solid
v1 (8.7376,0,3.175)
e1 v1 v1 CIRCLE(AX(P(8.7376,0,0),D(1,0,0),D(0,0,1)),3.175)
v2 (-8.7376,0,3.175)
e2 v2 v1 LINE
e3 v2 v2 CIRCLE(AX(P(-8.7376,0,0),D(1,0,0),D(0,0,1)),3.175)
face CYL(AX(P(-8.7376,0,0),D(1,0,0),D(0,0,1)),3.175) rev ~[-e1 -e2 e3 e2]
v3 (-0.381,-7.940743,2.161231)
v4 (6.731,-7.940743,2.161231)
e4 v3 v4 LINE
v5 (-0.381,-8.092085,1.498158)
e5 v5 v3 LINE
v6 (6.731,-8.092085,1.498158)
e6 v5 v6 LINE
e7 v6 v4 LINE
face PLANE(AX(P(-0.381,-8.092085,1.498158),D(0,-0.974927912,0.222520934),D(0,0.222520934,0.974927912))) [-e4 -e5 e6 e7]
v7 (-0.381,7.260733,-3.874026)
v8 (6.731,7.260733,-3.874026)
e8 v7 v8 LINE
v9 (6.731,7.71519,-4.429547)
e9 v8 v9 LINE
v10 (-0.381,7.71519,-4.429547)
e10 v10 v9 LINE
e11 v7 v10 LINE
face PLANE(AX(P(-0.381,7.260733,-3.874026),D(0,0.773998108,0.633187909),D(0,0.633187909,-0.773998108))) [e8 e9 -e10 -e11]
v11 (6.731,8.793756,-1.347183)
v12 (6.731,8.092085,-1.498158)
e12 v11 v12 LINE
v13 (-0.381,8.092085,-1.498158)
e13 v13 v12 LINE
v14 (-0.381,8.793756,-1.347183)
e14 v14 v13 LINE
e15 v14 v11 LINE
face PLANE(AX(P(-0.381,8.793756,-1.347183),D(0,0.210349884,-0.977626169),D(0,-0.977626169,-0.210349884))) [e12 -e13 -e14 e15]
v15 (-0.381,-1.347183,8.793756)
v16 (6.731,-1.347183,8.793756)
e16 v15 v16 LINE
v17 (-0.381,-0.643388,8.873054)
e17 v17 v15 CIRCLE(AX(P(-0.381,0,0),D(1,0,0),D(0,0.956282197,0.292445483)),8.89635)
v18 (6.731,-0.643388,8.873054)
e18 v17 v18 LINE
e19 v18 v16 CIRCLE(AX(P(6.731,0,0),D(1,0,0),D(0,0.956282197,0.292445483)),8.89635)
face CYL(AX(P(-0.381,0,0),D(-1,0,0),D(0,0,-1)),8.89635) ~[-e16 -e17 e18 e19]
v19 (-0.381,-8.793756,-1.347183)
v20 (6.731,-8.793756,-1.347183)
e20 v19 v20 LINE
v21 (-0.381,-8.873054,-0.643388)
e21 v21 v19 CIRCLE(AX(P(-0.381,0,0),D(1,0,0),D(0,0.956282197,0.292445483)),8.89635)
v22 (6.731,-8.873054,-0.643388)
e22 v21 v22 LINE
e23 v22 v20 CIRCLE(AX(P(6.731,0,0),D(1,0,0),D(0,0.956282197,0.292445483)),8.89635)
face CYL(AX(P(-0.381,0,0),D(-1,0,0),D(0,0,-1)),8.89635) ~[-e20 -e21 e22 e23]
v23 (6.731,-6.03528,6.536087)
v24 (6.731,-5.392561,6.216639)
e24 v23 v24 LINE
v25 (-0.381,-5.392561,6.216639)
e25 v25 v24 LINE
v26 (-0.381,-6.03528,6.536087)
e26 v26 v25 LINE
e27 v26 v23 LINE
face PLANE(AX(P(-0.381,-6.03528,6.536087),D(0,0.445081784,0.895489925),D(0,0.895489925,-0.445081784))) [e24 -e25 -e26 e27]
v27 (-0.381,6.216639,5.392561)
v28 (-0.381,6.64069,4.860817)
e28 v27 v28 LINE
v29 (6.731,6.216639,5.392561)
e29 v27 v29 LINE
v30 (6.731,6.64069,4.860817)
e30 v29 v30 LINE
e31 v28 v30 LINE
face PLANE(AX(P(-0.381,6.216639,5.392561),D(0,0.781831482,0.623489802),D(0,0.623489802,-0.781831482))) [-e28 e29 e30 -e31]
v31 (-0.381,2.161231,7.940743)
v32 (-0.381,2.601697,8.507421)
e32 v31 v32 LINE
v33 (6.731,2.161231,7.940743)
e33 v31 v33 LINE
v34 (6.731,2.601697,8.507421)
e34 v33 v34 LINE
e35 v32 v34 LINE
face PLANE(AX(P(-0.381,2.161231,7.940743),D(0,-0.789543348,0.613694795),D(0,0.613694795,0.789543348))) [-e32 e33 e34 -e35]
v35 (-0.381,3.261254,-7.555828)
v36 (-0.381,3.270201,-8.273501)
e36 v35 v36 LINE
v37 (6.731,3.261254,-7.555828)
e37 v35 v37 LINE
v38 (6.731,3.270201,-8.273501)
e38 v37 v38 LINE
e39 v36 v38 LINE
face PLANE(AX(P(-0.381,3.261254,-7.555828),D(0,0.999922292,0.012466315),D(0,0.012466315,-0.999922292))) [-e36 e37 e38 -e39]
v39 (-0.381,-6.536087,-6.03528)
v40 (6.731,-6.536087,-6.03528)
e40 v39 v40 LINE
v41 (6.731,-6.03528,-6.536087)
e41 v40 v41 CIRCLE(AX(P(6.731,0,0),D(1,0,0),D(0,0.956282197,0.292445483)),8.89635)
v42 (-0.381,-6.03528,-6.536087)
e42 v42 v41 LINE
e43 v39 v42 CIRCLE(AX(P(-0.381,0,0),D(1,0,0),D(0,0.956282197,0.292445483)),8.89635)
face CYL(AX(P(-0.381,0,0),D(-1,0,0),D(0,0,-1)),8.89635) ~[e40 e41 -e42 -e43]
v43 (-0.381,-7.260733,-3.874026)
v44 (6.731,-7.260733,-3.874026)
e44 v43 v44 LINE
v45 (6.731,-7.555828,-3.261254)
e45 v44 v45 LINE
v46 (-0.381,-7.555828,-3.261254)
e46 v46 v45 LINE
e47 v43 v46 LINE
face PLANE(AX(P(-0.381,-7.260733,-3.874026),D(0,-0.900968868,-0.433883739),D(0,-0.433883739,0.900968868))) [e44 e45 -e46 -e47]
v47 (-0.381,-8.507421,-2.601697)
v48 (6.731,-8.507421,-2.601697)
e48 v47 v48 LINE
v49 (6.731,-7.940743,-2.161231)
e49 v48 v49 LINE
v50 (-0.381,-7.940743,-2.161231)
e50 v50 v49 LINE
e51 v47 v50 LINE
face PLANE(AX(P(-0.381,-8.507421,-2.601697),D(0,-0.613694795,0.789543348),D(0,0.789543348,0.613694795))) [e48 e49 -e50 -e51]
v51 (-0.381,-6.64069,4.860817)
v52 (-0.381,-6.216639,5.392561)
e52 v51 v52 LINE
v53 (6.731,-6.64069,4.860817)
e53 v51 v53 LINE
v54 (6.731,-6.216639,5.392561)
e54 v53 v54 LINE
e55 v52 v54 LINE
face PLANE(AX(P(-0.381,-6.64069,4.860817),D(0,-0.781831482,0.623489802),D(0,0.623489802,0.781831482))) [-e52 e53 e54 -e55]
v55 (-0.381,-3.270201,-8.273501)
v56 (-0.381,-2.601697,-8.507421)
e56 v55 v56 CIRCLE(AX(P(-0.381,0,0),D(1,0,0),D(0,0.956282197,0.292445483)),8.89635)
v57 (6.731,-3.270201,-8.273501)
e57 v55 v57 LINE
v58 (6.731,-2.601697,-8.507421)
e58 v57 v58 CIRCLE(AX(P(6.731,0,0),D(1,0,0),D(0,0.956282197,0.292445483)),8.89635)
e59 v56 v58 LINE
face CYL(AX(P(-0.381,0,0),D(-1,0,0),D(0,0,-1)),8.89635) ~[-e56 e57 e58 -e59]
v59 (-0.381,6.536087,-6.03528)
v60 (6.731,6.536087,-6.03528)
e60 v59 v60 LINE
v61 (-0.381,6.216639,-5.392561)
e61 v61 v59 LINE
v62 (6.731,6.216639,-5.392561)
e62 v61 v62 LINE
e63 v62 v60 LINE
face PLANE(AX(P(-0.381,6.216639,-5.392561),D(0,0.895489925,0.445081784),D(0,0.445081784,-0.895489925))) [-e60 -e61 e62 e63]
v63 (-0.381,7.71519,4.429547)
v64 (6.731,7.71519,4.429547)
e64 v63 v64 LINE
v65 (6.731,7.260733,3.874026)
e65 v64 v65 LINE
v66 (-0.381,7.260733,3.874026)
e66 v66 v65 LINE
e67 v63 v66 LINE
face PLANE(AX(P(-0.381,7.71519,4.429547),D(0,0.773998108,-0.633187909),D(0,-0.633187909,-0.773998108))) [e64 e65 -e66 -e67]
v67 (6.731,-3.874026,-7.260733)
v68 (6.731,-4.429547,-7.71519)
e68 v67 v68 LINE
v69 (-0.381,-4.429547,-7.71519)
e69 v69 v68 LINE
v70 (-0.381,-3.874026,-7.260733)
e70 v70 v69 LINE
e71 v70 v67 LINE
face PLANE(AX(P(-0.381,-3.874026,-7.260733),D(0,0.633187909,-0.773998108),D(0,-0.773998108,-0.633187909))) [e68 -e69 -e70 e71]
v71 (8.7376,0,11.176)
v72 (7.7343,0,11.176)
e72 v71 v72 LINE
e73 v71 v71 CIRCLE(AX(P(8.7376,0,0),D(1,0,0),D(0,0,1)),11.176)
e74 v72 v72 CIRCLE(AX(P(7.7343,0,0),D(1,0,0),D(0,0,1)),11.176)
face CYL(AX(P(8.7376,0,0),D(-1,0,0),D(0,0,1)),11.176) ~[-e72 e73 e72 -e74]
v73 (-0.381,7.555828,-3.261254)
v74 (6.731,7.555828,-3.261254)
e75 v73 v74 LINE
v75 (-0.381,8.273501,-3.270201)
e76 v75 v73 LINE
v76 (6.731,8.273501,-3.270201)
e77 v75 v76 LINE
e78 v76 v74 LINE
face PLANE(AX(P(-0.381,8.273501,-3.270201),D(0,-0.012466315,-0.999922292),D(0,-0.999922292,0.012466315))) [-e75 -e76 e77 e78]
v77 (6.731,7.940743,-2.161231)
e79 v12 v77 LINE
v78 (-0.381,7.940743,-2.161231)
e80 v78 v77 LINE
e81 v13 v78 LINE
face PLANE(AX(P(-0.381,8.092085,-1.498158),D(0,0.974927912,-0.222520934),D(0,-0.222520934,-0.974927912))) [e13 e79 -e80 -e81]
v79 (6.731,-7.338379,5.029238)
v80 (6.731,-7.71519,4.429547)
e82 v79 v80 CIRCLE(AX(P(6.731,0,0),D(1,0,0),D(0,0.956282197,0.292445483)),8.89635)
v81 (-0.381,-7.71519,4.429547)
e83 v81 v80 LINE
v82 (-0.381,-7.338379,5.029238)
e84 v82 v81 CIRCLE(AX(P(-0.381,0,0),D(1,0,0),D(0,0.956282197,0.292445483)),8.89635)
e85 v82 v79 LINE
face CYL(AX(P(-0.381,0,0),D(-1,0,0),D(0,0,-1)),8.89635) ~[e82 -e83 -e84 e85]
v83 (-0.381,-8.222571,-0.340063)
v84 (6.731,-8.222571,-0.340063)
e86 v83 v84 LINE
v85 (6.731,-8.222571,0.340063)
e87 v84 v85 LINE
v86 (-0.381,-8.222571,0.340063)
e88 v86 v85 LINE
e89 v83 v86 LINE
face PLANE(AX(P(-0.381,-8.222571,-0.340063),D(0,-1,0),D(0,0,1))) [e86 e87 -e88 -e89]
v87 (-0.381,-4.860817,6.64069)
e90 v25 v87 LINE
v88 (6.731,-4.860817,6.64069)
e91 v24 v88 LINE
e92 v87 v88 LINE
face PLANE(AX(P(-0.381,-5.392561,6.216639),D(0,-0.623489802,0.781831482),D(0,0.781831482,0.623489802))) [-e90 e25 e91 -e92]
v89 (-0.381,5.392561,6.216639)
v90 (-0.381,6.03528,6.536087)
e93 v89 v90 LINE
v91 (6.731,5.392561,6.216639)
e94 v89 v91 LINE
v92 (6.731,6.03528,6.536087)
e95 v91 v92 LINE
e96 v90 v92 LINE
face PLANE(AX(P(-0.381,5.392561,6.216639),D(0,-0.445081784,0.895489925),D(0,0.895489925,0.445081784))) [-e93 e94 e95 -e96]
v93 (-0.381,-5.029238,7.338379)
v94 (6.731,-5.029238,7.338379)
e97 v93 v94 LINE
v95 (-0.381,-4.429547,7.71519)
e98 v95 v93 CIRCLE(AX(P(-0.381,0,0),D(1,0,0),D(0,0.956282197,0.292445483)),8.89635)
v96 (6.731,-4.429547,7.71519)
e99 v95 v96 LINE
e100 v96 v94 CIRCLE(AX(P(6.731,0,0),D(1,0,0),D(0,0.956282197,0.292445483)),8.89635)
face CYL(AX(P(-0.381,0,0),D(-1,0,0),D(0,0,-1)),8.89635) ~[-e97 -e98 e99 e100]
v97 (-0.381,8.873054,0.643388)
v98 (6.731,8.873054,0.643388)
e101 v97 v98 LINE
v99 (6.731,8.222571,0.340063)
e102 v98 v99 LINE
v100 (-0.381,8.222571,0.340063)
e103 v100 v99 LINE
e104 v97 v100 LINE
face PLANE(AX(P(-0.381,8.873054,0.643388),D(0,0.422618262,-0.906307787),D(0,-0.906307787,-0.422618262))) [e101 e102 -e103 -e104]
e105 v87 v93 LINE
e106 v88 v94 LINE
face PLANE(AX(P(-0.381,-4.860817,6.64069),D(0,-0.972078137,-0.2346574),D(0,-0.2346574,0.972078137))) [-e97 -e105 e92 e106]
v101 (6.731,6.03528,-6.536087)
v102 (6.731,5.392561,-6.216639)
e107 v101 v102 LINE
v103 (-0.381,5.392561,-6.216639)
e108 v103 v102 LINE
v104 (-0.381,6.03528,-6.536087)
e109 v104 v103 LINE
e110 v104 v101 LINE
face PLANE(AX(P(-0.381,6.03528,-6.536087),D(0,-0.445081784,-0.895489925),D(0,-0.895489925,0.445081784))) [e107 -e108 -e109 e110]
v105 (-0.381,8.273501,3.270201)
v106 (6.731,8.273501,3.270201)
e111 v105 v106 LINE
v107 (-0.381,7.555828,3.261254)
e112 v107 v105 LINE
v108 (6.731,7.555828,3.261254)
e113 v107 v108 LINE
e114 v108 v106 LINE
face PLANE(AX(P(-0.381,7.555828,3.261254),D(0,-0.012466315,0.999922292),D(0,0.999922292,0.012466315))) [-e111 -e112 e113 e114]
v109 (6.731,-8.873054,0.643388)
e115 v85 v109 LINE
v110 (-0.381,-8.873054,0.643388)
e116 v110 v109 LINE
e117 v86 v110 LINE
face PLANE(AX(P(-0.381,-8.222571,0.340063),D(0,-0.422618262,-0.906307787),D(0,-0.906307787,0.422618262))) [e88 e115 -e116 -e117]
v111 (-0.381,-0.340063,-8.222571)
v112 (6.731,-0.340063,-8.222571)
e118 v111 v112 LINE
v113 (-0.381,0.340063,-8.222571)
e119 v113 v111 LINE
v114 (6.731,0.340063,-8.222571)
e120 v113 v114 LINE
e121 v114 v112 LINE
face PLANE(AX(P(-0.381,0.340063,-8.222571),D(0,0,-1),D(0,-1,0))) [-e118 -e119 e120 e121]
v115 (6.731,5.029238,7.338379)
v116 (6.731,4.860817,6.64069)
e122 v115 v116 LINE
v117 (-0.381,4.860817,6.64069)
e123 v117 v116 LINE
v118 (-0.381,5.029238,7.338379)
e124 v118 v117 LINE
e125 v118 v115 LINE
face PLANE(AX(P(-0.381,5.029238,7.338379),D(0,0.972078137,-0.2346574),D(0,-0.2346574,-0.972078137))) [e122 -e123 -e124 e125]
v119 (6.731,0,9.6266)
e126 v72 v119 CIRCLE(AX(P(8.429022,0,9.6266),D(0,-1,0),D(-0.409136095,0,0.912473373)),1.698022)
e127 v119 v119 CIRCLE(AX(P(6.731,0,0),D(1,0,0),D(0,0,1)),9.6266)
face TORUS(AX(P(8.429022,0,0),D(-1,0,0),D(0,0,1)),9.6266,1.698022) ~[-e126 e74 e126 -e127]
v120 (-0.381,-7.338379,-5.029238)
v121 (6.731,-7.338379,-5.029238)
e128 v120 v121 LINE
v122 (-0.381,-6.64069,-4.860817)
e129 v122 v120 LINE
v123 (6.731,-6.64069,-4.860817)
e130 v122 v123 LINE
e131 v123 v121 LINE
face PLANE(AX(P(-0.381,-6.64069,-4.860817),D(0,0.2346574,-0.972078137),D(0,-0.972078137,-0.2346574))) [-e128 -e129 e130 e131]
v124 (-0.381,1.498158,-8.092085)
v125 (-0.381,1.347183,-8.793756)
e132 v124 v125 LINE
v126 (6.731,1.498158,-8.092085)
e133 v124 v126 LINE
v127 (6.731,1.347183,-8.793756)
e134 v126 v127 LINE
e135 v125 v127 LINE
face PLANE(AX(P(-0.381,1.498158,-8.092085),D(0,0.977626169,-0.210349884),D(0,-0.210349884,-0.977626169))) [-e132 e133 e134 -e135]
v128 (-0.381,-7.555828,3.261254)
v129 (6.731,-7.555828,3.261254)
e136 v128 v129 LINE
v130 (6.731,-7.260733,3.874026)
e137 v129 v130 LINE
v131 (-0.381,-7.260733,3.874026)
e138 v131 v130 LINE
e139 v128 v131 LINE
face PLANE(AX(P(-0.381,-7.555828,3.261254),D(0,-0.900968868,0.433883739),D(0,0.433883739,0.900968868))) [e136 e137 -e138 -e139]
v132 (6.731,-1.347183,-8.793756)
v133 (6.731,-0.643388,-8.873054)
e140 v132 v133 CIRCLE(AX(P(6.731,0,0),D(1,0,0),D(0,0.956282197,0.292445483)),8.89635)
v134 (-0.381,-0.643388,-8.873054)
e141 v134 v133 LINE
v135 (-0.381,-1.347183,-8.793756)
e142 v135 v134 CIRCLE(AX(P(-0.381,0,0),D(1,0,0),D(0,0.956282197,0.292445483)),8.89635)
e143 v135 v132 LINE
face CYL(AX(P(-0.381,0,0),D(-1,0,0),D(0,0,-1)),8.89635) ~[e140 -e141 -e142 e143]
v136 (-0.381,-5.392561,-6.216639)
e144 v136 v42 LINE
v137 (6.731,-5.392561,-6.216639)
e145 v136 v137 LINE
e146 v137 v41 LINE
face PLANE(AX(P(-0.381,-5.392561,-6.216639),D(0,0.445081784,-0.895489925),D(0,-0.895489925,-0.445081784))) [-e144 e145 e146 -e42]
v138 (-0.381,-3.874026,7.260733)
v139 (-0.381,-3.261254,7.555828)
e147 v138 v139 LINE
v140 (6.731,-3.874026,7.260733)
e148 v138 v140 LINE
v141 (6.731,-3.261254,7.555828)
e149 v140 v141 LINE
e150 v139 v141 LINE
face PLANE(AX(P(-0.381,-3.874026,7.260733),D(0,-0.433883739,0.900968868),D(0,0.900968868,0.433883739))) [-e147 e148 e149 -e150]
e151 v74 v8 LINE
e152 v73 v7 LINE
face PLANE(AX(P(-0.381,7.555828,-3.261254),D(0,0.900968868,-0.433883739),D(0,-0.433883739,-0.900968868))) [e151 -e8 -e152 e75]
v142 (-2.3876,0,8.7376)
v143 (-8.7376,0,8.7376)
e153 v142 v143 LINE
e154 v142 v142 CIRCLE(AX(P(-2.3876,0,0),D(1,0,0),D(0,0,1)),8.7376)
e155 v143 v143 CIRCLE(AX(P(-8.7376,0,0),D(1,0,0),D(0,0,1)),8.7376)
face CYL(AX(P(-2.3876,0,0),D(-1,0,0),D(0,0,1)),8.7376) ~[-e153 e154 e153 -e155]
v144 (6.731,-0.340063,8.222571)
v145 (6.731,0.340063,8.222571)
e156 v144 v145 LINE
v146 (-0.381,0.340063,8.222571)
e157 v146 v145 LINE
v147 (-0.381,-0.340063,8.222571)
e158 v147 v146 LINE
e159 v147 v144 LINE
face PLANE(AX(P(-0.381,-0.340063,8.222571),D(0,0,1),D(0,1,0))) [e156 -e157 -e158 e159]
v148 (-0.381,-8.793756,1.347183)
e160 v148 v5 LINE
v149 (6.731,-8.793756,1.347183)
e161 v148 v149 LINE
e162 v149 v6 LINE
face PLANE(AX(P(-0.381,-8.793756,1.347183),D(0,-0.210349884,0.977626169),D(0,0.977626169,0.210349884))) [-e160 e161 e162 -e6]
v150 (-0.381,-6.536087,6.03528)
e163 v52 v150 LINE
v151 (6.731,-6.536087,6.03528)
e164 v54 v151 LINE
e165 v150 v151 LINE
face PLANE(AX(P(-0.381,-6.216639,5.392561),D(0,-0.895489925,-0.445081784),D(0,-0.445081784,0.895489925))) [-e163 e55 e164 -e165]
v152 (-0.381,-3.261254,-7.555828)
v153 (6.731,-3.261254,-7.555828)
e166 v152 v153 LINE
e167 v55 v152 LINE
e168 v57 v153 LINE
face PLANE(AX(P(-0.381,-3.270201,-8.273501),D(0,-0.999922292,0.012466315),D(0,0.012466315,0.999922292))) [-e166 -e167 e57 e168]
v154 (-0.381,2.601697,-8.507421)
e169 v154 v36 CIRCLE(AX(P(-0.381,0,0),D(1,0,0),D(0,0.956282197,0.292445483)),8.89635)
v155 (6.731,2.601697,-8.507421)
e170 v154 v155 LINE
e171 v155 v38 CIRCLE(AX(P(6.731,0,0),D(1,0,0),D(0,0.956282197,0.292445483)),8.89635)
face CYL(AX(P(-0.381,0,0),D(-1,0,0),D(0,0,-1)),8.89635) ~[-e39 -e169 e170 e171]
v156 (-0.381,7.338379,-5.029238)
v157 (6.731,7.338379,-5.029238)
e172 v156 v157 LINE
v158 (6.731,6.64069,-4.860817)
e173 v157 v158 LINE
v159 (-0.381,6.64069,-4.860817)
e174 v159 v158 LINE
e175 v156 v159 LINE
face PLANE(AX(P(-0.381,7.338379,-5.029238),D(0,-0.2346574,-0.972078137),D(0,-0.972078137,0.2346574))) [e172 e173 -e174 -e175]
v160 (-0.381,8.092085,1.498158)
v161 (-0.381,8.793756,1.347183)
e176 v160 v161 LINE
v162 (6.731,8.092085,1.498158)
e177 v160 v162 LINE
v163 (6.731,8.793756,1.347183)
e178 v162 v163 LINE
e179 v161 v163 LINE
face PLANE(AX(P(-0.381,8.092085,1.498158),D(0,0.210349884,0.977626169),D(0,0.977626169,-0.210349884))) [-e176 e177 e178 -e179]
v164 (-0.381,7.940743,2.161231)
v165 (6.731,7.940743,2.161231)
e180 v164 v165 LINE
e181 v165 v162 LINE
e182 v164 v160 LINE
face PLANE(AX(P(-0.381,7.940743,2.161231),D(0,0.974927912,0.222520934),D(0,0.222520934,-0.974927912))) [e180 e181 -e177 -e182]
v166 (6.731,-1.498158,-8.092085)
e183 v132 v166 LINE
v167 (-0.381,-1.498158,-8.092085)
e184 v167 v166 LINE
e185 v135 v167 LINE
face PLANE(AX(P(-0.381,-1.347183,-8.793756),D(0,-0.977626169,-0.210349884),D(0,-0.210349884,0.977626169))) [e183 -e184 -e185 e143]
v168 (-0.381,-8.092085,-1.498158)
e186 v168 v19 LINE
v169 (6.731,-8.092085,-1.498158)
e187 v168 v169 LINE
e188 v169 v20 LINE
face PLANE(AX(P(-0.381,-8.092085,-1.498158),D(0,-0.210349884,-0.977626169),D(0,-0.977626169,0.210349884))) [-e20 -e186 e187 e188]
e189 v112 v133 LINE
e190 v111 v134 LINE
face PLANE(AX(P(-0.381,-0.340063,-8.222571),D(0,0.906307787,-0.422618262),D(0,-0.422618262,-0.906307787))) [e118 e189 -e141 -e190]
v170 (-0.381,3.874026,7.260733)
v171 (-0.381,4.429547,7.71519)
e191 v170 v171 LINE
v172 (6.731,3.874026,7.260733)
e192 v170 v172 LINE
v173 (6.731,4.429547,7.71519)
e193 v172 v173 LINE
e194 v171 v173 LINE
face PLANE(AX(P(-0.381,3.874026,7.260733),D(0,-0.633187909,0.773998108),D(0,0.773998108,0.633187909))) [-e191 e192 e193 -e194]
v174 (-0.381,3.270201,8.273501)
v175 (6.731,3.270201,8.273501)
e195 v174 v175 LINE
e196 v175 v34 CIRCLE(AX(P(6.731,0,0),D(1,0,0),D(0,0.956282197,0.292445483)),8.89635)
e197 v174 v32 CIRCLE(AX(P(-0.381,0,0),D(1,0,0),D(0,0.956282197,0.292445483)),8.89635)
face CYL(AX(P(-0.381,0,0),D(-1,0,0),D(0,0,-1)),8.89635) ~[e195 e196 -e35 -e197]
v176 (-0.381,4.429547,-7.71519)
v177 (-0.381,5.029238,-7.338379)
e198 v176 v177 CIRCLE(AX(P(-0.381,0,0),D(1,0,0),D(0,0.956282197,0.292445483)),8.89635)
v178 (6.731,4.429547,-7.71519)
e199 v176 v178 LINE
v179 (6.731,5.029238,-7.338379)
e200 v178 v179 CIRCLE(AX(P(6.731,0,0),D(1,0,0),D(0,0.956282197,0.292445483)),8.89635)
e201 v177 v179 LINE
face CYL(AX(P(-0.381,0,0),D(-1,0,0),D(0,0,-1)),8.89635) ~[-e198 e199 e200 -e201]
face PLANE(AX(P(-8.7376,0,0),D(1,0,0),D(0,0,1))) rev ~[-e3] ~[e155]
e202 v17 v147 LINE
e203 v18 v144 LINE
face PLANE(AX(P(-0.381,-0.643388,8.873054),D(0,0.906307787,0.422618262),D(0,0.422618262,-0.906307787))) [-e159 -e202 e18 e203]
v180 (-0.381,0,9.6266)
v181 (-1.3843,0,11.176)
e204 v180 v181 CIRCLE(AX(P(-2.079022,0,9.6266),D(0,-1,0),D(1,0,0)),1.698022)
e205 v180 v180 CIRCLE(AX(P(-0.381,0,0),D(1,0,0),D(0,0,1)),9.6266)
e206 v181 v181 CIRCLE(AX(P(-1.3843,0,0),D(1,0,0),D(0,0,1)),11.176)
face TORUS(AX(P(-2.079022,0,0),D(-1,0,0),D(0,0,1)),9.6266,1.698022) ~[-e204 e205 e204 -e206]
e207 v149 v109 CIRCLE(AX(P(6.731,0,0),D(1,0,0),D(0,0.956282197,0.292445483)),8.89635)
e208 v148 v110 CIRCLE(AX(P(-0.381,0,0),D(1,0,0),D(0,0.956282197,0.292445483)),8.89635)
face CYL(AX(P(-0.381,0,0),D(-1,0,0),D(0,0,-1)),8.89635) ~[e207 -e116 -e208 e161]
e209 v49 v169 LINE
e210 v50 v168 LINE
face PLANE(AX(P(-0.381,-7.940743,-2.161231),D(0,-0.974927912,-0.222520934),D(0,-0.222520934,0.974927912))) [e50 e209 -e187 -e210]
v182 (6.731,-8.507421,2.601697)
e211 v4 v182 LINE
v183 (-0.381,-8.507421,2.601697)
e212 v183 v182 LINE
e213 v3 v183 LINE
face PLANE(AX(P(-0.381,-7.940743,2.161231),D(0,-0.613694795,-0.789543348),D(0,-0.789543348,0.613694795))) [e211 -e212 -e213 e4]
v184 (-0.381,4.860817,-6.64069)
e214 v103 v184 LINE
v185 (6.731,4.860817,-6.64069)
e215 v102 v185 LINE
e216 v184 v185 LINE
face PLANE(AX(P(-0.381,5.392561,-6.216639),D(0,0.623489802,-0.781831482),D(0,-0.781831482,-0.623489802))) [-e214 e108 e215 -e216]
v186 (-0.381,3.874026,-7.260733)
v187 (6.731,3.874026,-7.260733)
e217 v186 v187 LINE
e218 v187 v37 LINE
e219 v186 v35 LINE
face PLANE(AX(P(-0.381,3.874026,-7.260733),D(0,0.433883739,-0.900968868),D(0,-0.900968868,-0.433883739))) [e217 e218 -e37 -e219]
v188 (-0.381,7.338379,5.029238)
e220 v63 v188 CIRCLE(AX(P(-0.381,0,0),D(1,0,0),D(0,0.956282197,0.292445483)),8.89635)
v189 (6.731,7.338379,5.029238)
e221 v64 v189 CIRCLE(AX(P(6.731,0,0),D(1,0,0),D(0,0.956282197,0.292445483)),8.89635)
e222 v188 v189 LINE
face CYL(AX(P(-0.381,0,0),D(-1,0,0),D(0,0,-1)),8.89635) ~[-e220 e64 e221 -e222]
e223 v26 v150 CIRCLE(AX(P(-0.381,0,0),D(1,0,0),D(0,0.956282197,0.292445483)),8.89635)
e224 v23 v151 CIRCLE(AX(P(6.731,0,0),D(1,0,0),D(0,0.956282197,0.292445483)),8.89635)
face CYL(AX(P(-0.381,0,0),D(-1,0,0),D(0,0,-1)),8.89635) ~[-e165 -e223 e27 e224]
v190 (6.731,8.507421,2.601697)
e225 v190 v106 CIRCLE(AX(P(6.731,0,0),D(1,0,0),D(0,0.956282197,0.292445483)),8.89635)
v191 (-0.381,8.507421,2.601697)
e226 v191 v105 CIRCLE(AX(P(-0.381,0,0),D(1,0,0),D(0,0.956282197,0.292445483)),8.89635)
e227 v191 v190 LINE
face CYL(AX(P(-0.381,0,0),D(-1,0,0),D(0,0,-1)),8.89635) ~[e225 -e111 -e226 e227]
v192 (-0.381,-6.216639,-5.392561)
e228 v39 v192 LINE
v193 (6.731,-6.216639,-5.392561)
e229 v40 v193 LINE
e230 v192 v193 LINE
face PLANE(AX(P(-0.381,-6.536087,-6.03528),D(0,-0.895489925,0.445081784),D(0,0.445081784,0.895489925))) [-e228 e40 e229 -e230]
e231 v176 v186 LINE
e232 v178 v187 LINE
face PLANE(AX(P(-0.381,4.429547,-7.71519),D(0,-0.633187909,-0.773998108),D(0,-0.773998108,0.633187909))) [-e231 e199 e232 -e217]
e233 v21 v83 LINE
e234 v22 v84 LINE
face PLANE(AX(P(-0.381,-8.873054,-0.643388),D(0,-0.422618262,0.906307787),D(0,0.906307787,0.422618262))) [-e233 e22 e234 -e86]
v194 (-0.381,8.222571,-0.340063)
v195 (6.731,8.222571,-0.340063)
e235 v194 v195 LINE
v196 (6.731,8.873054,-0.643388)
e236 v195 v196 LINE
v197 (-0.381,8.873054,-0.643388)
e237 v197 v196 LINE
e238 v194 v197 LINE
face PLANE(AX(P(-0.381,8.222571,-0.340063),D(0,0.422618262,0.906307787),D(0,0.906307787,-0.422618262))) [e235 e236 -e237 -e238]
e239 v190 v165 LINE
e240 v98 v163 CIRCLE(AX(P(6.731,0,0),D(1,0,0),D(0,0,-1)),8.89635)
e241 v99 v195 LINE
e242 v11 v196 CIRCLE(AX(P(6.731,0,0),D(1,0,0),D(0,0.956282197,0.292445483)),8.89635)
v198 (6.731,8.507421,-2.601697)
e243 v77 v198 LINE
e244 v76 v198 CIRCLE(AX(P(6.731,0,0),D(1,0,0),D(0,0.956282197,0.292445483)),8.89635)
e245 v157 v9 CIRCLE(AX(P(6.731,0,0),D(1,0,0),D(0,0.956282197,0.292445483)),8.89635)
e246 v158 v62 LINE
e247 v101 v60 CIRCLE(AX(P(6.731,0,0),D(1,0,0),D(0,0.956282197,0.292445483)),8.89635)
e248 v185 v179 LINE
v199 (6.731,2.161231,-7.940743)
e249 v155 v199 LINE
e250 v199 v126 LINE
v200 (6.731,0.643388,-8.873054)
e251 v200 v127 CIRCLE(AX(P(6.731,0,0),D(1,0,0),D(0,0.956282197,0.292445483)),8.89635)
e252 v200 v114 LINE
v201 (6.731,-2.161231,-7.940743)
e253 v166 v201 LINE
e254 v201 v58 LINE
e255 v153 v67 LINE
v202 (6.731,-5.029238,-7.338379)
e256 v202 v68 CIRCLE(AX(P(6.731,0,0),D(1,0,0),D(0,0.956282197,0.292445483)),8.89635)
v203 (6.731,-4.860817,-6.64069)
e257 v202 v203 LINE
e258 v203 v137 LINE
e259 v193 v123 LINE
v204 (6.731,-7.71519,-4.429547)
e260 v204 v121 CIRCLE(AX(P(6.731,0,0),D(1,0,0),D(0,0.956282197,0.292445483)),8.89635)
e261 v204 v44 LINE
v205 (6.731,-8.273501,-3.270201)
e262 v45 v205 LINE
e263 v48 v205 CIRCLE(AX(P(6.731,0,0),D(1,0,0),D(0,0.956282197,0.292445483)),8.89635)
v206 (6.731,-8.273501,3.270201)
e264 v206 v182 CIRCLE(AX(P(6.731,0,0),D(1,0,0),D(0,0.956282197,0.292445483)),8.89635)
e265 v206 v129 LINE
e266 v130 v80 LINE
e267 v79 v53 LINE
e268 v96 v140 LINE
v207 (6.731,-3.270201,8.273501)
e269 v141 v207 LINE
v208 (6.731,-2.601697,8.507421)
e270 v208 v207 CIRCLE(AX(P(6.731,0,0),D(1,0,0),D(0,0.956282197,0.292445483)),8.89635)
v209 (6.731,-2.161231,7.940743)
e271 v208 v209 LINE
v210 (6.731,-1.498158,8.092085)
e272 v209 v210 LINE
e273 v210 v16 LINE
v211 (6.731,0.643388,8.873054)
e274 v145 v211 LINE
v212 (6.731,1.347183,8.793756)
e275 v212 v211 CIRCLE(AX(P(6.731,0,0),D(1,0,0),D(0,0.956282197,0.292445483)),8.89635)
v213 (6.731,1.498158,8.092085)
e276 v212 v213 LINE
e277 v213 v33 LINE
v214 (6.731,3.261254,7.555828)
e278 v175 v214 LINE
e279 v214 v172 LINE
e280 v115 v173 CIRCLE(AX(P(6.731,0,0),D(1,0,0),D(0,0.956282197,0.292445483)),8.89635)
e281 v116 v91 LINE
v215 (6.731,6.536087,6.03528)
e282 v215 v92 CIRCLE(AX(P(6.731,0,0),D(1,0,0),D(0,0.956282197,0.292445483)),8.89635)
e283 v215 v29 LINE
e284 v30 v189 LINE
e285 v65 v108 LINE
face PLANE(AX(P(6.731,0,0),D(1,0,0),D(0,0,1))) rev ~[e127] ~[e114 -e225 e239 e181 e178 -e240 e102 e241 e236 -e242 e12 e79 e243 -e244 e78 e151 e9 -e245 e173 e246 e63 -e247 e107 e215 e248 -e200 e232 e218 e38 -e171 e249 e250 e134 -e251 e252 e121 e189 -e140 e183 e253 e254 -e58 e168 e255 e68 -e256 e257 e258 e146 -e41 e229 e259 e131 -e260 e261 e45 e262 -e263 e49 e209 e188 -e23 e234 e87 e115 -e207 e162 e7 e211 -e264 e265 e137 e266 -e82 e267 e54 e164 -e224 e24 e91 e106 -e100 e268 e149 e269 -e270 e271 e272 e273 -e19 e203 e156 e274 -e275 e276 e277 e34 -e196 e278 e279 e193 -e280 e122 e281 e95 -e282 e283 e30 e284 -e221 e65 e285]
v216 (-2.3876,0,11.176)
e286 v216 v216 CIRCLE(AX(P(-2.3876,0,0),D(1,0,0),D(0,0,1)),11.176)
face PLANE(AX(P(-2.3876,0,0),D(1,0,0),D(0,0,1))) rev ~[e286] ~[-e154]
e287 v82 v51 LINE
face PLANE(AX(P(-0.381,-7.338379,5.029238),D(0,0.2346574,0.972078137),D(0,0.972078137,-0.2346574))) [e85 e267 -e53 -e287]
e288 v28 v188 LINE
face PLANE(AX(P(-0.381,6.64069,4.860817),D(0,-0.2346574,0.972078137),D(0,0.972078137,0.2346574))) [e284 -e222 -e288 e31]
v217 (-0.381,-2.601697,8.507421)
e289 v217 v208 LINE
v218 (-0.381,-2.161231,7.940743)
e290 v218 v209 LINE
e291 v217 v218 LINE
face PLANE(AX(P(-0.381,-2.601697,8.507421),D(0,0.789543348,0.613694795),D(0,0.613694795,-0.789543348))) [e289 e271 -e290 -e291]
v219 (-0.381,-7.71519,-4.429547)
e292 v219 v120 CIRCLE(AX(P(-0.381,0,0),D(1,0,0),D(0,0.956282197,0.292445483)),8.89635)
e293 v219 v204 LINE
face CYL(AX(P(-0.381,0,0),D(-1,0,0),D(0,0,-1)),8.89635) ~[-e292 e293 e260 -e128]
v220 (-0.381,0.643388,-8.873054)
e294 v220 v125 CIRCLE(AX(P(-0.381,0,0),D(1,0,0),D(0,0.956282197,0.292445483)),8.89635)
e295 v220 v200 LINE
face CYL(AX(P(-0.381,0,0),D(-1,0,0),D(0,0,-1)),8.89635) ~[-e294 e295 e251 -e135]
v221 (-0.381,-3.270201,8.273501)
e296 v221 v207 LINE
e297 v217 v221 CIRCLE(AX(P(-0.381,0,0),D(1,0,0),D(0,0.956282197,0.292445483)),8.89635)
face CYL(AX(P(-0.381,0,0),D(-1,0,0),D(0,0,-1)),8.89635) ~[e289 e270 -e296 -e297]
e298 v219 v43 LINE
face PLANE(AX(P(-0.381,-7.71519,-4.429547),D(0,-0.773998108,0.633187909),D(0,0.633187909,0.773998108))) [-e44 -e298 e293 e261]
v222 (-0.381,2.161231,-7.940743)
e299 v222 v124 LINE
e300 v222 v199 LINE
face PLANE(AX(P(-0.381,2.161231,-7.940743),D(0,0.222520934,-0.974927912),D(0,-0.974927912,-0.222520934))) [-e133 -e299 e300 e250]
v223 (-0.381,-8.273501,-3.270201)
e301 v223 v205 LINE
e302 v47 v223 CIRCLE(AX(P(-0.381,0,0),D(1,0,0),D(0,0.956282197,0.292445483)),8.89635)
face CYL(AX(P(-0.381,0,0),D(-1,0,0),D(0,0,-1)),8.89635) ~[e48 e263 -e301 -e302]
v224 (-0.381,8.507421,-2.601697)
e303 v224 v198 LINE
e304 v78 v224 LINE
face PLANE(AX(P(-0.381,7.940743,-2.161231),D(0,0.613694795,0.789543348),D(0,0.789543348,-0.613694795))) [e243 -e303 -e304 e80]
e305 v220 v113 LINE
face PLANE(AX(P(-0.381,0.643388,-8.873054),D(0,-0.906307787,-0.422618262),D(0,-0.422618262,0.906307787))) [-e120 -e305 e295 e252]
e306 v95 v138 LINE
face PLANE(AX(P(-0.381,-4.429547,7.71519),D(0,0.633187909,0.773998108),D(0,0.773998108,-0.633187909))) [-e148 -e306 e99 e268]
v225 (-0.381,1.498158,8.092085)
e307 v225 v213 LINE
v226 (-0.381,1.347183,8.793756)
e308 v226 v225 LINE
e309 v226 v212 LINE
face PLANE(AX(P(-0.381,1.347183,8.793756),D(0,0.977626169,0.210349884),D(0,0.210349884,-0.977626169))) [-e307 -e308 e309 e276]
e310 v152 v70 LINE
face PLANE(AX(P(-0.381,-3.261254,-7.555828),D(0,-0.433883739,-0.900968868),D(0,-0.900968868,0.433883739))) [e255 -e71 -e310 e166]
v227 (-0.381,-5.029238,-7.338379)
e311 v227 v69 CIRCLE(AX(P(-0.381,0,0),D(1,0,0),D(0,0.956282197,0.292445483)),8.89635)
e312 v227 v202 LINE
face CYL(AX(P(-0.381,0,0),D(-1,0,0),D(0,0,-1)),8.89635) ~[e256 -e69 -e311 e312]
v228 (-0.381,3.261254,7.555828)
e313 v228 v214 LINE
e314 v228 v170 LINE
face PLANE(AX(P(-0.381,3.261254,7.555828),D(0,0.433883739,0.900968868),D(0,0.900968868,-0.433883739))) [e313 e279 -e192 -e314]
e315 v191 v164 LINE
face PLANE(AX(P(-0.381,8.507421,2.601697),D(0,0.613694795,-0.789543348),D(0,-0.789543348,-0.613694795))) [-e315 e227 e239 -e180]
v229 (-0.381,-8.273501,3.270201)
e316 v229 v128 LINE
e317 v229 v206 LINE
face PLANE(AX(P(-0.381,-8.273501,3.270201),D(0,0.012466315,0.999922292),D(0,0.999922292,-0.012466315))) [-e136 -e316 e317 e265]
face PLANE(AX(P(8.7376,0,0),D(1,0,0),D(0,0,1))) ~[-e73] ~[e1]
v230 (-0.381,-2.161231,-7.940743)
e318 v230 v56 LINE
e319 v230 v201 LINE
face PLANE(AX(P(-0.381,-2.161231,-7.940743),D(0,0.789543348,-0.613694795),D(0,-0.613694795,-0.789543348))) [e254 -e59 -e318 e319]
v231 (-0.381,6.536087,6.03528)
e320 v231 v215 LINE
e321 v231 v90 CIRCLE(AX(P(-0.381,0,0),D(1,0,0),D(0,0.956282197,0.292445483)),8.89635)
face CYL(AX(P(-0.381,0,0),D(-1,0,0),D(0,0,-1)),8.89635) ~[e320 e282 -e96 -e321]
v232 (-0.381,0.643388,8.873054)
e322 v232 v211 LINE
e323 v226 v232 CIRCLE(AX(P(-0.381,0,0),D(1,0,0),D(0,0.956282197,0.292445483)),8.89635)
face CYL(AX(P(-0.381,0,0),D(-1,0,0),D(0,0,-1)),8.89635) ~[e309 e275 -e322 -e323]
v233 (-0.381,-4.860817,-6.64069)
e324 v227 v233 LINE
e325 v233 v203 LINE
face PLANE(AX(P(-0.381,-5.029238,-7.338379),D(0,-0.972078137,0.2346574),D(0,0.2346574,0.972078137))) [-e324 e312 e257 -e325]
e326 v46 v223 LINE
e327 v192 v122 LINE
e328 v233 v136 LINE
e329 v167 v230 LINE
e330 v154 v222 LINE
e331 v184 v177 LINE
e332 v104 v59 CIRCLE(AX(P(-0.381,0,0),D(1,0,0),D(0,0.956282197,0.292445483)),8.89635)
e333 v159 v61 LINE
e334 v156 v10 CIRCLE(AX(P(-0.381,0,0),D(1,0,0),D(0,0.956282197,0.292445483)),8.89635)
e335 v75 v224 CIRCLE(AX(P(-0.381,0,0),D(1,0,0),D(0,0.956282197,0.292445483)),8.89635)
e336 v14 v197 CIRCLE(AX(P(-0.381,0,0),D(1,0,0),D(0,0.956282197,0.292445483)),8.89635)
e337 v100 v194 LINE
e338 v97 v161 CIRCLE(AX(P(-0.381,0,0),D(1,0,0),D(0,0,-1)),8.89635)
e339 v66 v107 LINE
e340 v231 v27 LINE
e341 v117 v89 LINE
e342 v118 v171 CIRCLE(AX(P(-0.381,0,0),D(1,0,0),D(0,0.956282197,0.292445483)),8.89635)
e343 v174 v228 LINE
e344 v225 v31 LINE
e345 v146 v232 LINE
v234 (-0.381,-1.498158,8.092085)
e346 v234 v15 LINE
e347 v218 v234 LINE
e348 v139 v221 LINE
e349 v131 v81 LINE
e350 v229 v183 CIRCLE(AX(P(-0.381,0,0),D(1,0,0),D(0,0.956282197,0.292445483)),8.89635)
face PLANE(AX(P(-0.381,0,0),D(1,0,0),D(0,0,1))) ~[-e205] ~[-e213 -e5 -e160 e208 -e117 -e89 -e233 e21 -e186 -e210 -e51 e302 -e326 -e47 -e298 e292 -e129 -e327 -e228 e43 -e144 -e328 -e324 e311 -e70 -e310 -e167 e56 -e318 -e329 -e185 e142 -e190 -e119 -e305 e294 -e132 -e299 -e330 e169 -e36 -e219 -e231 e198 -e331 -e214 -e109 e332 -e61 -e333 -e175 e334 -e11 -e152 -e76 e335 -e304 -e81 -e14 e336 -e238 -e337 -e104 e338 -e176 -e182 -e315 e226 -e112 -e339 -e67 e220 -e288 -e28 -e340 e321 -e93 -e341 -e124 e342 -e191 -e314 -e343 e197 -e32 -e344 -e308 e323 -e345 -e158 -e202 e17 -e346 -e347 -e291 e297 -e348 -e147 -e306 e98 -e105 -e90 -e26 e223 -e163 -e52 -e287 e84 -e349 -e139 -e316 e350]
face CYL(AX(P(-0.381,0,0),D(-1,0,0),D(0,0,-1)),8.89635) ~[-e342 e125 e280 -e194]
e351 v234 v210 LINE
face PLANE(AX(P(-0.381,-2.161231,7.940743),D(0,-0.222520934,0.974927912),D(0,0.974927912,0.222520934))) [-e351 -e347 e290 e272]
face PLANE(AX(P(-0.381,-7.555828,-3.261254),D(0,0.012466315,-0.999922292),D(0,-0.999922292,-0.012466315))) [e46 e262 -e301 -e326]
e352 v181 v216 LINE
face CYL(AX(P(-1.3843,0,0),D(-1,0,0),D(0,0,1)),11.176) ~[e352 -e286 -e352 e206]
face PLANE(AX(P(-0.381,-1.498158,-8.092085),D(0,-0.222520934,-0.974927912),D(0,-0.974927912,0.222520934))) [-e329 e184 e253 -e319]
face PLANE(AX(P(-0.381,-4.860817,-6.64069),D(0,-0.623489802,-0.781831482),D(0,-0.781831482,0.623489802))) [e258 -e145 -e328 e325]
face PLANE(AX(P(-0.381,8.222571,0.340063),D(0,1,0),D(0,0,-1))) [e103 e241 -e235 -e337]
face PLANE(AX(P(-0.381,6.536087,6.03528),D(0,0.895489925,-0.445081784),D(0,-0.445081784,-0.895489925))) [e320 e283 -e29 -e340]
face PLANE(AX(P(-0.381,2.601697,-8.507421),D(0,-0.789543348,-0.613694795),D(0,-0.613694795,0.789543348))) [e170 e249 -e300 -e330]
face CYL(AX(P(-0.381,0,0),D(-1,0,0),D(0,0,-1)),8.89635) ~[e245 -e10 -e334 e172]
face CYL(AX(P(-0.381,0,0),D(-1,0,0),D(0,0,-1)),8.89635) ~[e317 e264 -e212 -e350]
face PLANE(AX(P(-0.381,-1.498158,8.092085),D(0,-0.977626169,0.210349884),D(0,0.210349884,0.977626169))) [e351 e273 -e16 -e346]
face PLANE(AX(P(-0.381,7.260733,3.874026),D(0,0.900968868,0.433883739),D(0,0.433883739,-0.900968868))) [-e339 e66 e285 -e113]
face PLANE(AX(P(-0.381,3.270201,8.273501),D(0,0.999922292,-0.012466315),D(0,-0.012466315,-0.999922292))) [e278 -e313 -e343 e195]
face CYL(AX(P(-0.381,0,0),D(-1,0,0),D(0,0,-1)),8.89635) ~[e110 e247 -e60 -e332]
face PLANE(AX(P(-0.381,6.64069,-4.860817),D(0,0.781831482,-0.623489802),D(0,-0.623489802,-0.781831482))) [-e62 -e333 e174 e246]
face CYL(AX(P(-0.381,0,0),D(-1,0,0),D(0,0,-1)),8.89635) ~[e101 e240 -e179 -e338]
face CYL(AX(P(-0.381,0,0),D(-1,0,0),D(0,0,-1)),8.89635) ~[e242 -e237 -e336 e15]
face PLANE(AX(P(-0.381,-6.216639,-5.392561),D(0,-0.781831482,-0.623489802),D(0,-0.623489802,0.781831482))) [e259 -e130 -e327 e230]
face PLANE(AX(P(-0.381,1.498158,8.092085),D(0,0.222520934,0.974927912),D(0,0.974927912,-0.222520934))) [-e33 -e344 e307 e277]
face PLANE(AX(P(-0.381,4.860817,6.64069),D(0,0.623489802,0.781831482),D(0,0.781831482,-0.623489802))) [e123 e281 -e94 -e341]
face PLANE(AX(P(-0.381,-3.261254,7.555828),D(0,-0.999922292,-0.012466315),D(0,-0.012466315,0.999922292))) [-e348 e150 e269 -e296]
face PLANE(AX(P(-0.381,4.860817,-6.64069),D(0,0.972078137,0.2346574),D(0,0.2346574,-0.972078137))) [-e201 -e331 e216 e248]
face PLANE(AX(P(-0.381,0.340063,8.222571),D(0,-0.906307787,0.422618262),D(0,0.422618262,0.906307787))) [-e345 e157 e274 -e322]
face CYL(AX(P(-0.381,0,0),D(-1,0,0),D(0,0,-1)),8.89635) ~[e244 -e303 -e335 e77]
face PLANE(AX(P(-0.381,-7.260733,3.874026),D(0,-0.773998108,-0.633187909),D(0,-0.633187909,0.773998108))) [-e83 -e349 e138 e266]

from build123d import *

# Parameters (mm, degrees)
SKETCH4_R          = 9.0551
SKETCH4_R_2        = 8.89635
CUT_EXTRUDE2_DEPTH = 7.112
CUT_EXTRUDE1_DEPTH = 7.112
CIRPATTERN1_COUNT  = 28


with BuildPart() as part:
    # Sketch1 → Revolve1 (revolve)
    with BuildSketch(Plane.XY, mode=Mode.PRIVATE) as revolve1_sk:
        with BuildLine():
            Line((-8.7376, 3.175), (8.7376, 3.175))
            Line((8.7376, 3.175), (8.7376, 11.176))
            Line((8.7376, 11.176), (7.7343, 11.176))
            ThreePointArc((7.7343, 11.176), (7.003726949, 10.549537058), (6.731, 9.6266))
            Line((6.731, 9.6266), (6.731, 9.0551))
            Line((6.731, 9.0551), (-0.381, 9.0551))
            Line((-0.381, 9.0551), (-0.381, 9.6266))
            ThreePointArc((-0.381, 9.6266), (-0.653726949, 10.549537058), (-1.3843, 11.176))
            Line((-1.3843, 11.176), (-2.3876, 11.176))
            Line((-2.3876, 11.176), (-2.3876, 8.7376))
            Line((-2.3876, 8.7376), (-8.7376, 8.7376))
            Line((-8.7376, 8.7376), (-8.7376, 3.175))
        make_face()
    revolve(revolve1_sk.sketch.rotate(Axis((-8.7376, 0, 0), (1, 0, 0)), 90), axis=Axis((-8.7376, 0, 0), (1, 0, 0)))

    # Sketch4 → Cut-Extrude2 (cut)
    with BuildSketch(Plane(origin=(-0.381, 0, 0), x_dir=(0, 0, -1), z_dir=(1, 0, 0))):
        Circle(SKETCH4_R)
        Circle(SKETCH4_R_2, mode=Mode.SUBTRACT)
    extrude(amount=CUT_EXTRUDE2_DEPTH, mode=Mode.SUBTRACT)

    # Sketch3 → Cut-Extrude1 (cut)
    with BuildSketch(Plane(origin=(-0.381, 0, 0), x_dir=(0, 0, -1), z_dir=(1, 0, 0))):
        with BuildLine():
            Line((-0.643388094, 8.873054439), (-0.340062676, 8.222570981))
            Line((-0.340062676, 8.222570981), (0.340062676, 8.222570981))
            Line((0.340062676, 8.222570981), (0.643388094, 8.873054439))
            ThreePointArc((0.643388094, 8.873054439), (0, 8.89635), (-0.643388094, 8.873054439))
        make_face()
    cut_extrude1 = extrude(amount=CUT_EXTRUDE1_DEPTH, mode=Mode.SUBTRACT)

    # CirPattern1: Cut-Extrude1 ×28 about axis
    cirpattern1_axis = Axis((0, 0, 0), (1, 0, 0))
    for i in range(1, CIRPATTERN1_COUNT):
        add(cut_extrude1.rotate(cirpattern1_axis, i * 360 / CIRPATTERN1_COUNT), mode=Mode.SUBTRACT)


solid = part.part
